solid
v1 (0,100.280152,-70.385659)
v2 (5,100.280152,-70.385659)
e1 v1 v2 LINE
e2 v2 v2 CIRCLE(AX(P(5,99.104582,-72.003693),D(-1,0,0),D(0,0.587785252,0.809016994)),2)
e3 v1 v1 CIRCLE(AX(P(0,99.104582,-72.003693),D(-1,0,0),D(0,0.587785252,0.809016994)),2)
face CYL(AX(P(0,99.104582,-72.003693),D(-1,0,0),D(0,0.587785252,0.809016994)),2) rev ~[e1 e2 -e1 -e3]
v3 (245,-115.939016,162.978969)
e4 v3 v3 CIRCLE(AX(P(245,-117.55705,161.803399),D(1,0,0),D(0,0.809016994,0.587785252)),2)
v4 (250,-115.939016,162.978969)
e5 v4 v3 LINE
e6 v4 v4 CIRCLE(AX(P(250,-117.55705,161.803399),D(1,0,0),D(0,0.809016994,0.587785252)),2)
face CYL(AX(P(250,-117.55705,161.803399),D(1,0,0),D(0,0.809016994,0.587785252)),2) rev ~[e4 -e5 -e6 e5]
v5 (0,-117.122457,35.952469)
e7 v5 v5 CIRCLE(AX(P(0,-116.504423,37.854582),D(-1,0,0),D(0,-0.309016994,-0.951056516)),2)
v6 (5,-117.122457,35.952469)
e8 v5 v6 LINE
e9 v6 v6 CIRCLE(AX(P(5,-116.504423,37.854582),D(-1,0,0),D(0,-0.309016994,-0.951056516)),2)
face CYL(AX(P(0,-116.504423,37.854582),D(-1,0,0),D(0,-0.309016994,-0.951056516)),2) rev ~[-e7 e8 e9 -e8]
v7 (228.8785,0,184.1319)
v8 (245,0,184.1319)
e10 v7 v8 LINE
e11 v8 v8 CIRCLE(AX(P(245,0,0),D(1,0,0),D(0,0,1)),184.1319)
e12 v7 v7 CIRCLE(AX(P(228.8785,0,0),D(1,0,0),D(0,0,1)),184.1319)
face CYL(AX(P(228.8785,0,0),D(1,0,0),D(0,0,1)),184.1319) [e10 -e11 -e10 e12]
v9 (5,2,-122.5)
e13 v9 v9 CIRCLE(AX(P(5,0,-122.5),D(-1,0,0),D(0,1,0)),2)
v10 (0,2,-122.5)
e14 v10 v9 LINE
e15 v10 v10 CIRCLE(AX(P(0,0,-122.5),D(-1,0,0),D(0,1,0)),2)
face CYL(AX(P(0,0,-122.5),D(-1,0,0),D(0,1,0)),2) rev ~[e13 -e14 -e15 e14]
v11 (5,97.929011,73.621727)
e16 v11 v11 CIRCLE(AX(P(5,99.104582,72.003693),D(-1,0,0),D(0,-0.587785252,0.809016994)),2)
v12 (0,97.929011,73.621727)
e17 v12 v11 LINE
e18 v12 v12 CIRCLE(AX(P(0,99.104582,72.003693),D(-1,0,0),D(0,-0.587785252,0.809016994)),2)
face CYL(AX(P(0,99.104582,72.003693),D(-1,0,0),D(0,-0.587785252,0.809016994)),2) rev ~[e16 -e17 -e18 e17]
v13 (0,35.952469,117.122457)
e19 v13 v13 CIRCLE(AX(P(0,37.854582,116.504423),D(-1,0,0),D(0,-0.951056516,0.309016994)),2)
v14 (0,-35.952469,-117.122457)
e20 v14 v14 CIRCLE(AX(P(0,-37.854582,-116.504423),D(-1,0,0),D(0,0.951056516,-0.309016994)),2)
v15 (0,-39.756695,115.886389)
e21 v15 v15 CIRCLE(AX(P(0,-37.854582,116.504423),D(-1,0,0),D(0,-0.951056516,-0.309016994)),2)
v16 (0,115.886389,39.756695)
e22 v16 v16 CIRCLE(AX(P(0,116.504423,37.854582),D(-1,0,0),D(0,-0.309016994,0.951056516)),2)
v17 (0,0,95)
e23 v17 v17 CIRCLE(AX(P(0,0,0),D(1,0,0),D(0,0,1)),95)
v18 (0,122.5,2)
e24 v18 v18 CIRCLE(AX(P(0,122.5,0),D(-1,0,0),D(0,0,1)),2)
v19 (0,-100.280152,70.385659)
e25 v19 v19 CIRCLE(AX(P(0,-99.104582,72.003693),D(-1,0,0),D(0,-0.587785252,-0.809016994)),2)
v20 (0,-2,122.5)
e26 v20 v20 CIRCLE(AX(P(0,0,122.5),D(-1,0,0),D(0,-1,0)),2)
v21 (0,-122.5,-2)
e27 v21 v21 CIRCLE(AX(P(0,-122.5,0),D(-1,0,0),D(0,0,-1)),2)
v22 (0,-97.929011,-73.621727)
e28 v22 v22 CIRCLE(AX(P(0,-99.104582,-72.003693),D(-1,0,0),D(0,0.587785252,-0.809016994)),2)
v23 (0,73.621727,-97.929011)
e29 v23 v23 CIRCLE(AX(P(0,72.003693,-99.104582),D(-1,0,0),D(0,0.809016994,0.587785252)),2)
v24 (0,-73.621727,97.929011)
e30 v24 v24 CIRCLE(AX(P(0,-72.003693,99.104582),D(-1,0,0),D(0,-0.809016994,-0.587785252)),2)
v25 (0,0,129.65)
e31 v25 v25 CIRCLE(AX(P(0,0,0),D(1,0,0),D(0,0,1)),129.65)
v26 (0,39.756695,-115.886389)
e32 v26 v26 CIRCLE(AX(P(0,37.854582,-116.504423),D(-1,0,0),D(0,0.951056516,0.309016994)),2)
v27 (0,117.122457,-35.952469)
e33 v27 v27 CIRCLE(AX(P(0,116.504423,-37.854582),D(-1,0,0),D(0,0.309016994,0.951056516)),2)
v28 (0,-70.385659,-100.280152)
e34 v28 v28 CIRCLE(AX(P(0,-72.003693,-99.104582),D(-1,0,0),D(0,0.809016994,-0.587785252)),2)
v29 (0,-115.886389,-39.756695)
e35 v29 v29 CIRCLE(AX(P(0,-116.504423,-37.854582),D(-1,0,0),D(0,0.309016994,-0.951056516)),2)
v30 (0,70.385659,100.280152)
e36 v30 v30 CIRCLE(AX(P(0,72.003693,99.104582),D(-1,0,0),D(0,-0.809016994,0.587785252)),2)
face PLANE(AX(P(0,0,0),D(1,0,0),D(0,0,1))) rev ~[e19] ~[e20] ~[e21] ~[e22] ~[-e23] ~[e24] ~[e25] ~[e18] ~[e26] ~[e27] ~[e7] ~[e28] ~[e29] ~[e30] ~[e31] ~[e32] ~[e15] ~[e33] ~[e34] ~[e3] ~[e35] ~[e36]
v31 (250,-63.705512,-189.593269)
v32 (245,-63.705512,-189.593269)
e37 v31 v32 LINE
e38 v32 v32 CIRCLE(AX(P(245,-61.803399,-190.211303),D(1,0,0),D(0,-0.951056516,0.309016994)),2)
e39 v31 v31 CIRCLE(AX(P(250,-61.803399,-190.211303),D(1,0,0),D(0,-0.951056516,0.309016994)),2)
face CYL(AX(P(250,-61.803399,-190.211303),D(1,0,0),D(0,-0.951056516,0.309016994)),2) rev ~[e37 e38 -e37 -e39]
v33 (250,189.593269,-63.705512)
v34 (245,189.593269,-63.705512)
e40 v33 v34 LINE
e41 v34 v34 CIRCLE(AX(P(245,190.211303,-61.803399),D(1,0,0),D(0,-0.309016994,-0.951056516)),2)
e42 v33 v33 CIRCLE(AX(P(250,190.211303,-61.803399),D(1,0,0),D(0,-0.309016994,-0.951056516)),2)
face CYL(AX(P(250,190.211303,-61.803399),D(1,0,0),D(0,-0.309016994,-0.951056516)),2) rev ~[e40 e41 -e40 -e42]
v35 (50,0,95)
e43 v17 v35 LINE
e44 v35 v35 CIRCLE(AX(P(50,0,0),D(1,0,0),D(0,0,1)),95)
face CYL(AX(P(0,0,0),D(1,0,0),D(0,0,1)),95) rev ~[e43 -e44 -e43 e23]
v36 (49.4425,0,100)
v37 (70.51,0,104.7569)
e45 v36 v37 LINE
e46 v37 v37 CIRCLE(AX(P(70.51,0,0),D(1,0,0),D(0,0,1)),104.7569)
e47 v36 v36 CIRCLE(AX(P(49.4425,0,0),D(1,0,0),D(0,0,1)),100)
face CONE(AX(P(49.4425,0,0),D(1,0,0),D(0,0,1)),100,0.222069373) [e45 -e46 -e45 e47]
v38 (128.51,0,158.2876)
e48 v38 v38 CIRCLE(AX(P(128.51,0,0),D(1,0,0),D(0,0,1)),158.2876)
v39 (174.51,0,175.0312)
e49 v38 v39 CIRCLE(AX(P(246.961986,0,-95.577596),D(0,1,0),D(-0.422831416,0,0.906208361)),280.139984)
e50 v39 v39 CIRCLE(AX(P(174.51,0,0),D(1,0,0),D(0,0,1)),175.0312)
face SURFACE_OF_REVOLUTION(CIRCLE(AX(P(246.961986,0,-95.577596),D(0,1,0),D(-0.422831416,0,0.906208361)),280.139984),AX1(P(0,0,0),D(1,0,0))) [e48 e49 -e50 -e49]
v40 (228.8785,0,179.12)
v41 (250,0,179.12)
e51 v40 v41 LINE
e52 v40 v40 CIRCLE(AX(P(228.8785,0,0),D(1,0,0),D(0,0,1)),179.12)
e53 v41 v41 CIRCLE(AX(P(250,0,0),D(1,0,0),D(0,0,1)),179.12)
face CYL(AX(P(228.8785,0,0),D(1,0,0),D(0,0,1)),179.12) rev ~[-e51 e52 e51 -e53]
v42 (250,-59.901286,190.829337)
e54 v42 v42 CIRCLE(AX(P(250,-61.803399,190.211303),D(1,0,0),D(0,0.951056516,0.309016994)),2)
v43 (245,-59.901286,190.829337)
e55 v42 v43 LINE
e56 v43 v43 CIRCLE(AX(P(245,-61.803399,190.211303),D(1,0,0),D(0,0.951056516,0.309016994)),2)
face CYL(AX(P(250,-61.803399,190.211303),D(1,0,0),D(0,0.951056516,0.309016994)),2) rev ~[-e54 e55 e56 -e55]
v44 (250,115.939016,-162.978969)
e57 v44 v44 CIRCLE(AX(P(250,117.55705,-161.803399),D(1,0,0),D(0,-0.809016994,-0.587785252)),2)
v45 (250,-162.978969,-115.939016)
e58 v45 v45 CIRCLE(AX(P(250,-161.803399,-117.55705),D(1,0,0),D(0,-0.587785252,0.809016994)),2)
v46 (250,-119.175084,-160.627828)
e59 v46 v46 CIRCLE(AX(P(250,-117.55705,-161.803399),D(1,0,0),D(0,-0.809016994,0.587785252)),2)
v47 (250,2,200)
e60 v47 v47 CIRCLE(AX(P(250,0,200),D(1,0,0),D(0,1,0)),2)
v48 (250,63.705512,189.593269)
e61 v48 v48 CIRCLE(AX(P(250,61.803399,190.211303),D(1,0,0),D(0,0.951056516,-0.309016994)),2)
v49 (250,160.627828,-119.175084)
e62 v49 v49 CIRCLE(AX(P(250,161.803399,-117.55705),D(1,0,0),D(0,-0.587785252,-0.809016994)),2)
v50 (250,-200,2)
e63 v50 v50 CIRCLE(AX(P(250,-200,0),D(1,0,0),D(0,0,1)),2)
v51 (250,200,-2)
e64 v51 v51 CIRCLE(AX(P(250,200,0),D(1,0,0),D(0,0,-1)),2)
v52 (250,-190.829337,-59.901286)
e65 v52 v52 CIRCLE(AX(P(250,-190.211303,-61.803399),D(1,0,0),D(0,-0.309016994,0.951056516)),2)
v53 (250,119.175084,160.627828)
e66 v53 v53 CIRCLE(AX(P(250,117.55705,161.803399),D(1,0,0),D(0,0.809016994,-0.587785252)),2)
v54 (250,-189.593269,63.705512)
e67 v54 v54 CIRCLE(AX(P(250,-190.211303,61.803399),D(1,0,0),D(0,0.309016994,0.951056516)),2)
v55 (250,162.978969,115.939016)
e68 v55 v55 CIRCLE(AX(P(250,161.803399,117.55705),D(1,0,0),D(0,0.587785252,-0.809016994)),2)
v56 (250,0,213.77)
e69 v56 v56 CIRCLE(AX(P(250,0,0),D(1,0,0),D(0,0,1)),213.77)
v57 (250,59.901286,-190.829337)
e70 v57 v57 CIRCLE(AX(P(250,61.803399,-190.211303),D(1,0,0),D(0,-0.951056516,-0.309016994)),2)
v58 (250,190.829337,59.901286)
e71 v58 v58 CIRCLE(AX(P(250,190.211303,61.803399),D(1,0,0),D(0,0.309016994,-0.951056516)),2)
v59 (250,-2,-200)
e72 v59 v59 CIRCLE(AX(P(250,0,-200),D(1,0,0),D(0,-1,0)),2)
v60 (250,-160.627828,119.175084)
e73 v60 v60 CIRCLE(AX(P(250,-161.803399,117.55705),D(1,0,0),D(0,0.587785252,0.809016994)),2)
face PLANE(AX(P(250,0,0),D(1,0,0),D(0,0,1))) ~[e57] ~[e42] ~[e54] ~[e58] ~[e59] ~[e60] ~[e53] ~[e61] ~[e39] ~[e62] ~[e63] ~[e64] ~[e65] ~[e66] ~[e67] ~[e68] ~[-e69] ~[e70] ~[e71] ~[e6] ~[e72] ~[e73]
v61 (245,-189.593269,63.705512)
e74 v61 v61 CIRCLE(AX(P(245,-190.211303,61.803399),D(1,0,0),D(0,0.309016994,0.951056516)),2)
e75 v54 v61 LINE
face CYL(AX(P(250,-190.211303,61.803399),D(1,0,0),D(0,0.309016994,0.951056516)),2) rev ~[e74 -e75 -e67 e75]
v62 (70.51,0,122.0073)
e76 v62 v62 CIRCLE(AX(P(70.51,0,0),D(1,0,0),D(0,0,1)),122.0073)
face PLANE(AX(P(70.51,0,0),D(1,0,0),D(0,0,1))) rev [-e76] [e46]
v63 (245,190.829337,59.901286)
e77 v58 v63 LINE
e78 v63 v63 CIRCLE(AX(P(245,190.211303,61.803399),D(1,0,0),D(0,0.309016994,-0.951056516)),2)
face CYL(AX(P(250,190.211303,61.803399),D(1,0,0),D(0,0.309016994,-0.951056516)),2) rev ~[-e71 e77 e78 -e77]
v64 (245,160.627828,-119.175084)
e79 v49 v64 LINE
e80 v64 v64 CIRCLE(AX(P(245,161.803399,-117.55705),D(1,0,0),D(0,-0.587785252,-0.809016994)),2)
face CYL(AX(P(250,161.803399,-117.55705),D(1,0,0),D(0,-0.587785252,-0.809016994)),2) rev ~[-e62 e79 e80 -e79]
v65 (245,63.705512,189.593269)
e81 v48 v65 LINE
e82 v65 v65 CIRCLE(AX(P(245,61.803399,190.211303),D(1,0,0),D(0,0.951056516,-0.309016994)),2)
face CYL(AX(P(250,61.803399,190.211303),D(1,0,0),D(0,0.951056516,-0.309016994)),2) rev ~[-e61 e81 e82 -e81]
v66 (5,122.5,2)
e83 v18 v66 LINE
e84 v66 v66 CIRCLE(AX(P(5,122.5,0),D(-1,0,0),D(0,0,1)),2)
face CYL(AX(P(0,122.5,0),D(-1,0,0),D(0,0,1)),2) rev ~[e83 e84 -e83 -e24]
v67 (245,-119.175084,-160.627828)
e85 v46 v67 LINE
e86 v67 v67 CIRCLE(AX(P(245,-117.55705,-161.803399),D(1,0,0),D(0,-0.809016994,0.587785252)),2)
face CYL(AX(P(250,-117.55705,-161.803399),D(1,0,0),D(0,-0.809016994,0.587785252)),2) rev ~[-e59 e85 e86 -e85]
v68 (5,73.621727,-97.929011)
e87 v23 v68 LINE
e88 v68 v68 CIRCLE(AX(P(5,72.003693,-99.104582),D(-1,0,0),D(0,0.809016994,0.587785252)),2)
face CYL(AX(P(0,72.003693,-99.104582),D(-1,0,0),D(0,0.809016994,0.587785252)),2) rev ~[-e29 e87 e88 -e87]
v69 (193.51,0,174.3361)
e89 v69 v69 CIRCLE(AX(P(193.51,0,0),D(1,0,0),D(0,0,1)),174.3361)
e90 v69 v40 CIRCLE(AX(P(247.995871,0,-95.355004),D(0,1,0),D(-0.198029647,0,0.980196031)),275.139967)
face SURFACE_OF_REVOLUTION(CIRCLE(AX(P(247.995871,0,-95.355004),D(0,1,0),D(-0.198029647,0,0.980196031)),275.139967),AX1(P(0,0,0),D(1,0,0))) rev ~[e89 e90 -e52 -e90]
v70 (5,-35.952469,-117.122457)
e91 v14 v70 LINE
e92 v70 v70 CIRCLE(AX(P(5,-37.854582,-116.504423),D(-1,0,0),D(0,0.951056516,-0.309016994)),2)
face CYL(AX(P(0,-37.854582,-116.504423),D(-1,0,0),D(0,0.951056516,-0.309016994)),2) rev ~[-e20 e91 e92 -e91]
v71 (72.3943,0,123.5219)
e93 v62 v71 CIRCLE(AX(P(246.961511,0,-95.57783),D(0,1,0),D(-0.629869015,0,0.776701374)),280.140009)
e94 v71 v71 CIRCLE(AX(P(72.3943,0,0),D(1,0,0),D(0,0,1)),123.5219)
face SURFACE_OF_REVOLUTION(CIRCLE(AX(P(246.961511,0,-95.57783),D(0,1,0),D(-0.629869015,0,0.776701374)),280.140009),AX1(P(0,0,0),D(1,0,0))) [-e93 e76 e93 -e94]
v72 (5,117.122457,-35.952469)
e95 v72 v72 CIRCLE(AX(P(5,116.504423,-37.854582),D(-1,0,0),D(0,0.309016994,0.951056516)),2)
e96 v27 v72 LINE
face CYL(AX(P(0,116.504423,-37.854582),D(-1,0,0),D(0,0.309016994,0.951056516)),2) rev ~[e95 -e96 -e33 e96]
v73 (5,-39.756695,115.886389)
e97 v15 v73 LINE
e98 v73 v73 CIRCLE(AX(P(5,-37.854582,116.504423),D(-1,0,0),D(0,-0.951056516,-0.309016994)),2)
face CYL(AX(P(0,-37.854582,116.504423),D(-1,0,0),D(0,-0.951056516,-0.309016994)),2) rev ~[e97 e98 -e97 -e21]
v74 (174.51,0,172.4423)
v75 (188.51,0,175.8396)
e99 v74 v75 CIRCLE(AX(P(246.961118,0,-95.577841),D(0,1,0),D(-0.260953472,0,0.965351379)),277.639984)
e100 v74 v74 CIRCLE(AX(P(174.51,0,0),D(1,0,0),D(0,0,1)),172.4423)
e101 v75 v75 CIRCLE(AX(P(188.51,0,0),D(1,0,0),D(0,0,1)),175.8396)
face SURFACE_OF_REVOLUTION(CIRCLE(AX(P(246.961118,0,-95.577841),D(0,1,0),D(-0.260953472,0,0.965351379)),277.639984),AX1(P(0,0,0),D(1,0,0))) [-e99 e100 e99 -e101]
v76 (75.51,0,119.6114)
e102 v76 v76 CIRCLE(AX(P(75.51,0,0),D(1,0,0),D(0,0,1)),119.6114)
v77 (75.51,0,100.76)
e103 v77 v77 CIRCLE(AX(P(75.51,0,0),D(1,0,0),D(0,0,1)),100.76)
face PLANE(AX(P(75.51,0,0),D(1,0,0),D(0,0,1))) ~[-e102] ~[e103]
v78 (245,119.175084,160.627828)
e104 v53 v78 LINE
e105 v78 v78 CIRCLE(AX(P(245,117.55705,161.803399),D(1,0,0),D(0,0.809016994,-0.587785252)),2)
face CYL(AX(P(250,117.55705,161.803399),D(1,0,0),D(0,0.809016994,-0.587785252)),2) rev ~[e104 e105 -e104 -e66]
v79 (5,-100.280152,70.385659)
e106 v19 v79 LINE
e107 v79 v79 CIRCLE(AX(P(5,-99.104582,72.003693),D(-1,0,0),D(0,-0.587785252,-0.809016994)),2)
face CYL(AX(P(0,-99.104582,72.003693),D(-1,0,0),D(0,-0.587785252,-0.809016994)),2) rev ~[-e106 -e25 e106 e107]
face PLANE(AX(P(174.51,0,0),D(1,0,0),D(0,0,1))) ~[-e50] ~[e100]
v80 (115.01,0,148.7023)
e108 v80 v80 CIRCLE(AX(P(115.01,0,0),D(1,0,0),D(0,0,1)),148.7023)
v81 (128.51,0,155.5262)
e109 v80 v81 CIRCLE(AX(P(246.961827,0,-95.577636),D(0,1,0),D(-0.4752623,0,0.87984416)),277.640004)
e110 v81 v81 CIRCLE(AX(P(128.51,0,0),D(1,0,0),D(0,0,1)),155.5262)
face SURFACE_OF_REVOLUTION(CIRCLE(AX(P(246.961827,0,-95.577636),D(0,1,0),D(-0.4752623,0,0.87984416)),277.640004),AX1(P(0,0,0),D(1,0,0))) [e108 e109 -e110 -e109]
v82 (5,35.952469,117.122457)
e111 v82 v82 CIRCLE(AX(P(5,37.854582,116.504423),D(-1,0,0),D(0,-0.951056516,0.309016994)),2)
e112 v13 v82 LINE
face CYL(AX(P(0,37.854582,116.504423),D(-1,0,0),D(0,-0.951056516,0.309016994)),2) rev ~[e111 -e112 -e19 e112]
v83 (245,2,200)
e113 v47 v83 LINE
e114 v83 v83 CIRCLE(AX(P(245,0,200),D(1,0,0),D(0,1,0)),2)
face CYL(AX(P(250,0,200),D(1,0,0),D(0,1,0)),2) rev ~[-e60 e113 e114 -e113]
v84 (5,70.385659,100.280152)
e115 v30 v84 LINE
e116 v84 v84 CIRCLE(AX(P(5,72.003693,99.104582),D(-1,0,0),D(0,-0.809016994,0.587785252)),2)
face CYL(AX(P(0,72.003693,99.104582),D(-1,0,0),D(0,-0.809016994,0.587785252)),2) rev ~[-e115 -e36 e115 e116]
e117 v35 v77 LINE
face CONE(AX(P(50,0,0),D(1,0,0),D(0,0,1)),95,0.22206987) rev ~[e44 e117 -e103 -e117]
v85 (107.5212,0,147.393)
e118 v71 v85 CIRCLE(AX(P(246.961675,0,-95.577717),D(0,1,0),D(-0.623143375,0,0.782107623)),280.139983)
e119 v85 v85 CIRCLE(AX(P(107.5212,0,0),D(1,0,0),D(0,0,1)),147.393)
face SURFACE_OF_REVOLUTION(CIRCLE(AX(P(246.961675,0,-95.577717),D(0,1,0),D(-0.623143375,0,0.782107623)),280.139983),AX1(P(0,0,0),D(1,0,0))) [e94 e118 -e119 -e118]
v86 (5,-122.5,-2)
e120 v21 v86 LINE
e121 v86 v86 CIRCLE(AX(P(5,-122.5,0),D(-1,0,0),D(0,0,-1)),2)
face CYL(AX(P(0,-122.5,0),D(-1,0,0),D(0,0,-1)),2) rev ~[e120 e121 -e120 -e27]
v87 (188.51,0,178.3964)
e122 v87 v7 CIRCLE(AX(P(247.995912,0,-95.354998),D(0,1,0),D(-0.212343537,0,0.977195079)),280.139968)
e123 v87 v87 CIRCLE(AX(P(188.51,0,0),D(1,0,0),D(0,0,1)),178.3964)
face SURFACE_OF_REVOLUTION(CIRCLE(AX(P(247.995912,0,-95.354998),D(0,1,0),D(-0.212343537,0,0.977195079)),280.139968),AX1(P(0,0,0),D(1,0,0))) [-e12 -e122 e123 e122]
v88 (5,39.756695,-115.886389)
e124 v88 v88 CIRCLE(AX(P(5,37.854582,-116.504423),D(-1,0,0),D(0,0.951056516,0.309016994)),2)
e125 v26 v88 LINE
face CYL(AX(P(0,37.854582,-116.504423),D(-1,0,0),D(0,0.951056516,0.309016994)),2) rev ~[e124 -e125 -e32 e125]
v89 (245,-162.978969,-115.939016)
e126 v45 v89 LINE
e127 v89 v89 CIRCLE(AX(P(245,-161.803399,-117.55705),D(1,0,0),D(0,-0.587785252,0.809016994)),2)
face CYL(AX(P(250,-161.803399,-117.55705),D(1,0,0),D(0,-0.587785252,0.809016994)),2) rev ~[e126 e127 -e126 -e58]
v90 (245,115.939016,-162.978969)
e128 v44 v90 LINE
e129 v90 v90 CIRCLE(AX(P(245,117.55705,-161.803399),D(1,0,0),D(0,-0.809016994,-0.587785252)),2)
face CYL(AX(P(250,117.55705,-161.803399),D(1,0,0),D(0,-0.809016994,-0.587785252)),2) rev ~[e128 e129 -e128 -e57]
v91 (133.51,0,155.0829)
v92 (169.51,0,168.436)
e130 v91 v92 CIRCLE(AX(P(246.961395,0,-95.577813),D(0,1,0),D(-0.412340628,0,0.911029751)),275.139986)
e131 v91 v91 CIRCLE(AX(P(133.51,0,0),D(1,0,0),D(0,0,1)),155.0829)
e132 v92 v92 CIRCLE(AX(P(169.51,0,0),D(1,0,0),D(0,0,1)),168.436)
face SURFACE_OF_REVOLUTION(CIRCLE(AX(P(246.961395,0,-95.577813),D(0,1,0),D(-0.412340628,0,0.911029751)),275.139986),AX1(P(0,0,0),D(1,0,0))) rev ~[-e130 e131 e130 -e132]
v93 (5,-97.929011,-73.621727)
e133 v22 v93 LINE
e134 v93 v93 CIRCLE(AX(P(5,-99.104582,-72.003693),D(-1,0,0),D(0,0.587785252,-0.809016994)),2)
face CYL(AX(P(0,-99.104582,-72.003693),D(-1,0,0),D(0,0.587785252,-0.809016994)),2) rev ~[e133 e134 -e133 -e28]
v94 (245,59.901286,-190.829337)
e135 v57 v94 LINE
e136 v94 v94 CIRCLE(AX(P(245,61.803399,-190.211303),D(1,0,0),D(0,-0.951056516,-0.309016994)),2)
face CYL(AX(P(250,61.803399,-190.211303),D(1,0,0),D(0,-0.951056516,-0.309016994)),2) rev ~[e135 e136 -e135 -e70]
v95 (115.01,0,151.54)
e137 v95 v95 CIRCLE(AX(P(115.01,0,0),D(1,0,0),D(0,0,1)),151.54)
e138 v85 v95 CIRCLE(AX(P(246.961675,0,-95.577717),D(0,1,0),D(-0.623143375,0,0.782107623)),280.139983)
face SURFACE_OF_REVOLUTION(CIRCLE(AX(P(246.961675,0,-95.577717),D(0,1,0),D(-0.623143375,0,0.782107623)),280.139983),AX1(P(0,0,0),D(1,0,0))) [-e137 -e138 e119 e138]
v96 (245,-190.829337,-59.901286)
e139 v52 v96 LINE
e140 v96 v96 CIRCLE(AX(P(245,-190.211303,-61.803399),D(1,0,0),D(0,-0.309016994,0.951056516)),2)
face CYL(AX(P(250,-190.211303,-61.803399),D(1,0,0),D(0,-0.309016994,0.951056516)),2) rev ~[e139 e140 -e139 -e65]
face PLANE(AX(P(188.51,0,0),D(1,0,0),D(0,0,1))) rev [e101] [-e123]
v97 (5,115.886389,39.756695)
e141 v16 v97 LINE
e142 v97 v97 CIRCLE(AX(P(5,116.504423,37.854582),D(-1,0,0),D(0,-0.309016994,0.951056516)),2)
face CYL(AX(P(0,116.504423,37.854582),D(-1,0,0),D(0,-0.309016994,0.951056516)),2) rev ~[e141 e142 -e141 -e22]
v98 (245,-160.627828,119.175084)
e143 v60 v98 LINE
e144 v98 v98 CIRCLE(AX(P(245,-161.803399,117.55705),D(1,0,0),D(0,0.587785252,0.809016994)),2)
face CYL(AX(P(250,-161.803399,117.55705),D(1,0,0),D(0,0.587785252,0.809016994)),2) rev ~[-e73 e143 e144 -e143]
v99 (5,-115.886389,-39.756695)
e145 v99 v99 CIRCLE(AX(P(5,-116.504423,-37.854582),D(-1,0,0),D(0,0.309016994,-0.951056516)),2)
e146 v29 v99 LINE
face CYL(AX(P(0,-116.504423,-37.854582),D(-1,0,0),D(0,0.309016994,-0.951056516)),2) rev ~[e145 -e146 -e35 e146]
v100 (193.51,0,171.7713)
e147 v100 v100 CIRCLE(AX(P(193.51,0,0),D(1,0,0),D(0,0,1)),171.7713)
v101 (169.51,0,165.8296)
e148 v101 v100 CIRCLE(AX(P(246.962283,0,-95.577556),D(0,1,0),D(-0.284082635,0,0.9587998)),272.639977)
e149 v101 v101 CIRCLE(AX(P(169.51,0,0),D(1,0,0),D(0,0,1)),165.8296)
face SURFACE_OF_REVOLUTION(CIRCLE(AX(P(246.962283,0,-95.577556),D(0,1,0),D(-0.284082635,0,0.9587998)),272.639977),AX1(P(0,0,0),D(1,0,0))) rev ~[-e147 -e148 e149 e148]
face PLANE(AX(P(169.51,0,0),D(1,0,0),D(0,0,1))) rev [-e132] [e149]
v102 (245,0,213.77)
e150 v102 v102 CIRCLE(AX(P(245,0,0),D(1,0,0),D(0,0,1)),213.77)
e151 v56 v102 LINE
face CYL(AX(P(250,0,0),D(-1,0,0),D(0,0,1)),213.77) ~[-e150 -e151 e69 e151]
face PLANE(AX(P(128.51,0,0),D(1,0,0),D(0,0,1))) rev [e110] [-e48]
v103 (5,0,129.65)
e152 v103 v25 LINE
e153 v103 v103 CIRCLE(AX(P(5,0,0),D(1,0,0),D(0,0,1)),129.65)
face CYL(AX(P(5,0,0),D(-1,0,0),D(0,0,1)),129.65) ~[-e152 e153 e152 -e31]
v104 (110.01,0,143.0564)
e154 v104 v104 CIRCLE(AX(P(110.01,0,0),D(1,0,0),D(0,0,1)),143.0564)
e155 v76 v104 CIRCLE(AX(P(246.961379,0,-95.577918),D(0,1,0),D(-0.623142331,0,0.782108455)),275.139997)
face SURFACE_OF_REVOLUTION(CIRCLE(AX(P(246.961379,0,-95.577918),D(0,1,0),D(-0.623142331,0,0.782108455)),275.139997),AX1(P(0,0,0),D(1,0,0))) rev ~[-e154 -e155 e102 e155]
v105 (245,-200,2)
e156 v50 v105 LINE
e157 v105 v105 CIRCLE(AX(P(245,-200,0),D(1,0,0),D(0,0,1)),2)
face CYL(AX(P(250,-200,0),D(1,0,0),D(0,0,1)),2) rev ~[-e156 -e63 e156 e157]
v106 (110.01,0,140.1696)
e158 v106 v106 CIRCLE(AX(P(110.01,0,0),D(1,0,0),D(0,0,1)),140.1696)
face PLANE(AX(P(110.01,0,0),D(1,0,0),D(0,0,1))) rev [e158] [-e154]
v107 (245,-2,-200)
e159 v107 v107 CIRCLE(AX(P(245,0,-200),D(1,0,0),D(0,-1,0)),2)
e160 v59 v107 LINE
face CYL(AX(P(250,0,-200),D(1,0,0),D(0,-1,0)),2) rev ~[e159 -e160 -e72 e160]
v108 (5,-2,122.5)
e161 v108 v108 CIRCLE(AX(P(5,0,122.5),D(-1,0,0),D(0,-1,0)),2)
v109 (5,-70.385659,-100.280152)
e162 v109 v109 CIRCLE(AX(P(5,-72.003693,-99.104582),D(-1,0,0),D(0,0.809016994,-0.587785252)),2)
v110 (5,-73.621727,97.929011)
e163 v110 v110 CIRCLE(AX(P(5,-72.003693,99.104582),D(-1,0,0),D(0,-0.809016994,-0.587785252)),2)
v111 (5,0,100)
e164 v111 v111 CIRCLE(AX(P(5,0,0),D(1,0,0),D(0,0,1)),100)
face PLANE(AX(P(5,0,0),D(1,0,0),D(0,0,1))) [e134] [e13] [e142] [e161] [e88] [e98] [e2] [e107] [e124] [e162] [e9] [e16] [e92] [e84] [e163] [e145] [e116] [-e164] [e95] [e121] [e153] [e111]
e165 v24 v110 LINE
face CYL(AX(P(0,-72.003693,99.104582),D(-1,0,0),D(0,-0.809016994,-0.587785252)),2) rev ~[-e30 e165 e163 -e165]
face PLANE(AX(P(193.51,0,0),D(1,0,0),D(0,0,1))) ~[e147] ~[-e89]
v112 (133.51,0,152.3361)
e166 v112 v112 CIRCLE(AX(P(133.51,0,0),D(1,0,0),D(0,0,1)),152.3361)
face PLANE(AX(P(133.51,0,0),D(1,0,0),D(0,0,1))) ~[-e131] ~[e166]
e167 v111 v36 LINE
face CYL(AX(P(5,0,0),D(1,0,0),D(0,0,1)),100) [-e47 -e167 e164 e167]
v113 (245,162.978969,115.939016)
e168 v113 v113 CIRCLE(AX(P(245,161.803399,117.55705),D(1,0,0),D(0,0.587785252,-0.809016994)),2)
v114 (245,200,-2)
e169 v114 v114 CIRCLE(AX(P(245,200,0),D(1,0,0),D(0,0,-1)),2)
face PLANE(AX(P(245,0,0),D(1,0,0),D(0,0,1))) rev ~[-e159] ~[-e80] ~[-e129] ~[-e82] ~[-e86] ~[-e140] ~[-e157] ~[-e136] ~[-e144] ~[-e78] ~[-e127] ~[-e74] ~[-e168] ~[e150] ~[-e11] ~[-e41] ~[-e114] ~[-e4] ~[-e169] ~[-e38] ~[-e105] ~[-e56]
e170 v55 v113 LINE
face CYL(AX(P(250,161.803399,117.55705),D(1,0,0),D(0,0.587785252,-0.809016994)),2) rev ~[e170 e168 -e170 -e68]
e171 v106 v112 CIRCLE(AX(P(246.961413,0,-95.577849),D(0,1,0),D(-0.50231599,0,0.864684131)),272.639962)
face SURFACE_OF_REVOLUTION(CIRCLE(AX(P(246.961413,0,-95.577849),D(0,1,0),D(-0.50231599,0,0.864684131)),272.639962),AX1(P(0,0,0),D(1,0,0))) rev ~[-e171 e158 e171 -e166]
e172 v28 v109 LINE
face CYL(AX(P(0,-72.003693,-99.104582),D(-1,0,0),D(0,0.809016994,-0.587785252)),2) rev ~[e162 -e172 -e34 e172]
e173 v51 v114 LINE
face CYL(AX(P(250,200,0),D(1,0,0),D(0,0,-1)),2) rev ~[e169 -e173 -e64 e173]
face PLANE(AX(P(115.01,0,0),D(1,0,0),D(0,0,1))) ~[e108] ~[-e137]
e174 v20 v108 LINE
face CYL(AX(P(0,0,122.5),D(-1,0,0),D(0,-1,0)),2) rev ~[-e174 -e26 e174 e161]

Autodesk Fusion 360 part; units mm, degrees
sketch "Sketch1" plane through (0, 0, 0) normal (0, 1, 0) x (1, 0, 0)
  line L0 (0, 0) -> (250.5, 0) construction
  line L1 (250.5, 0) -> (250.5, -213.77) construction
  line L2 (250.5, -213.77) -> (0, -213.77) construction
  line L3 (0, -213.77) -> (0, 0) construction
  dimension "d1" = 250.5
  dimension "d2" = 213.77
sketch "Sketch2" plane through (0, 0, 0) normal (0, 1, 0) x (1, 0, 0)
  line L0 (0, 0) -> (250, 0) construction
  line L1 (250, 0) -> (250, -129.65) construction
  line L2 (250, -129.65) -> (0, -129.65) construction
  line L3 (0, -129.65) -> (0, 0) construction
  line L4 (193.51, 174.3203) -> (193.51, 171.7713)
  line L5 (193.51, -171.7713) -> (193.51, -174.3361)
  line L6 (169.51, 168.436) -> (169.51, 165.8296)
  line L7 (169.51, -165.8296) -> (169.51, -168.436)
  line L8 (133.51, 155.0829) -> (133.51, 152.3361)
  line L9 (133.51, -152.3361) -> (133.51, -155.0829)
  line L10 (110.01, 143.0564) -> (110.01, 140.1696)
  line L11 (110.01, -140.1696) -> (110.01, -143.0564)
  line L12 (228.8785, 178.9674) -> (228.8785, -179.12)
  arc A0 (193.51, 171.7713) -> (169.51, 165.8296) centre (246.9617, -95.5777) ccw
  arc A1 (169.51, -165.8296) -> (193.51, -171.7713) centre (246.9617, 95.5777) ccw
  arc A2 (133.51, 152.3361) -> (110.01, 140.1696) centre (246.9617, -95.5777) ccw
  arc A3 (110.01, -140.1696) -> (133.51, -152.3361) centre (246.9617, 95.5777) ccw
  arc A4 (228.8785, 178.9674) -> (193.51, 174.3203) centre (246.9617, -95.5777) ccw
  arc A5 (193.51, -174.3361) -> (228.8785, -179.12) centre (247.9959, 95.355) ccw
  arc A6 (169.51, 168.436) -> (133.51, 155.0829) centre (246.9617, -95.5777) ccw
  arc A7 (133.51, -155.0829) -> (169.51, -168.436) centre (246.9617, 95.5777) ccw
  arc A8 (110.01, 143.0564) -> (75.51, 119.6114) centre (246.9617, -95.5777) ccw
  arc A9 (75.51, -119.6114) -> (110.01, -143.0564) centre (246.9617, 95.5777) ccw
  line L13 (0, -129.65) -> (0, -95)
  line L14 (0, -95) -> (50, -95)
  line L15 (334.2254, -100.76) -> (-102.5424, -100.76) construction
  line L16 (50, -95) -> (75.51, -100.76)
  line L17 (75.51, -100.76) -> (75.51, -119.6114)
  arc A10 (72.3943, -123.5219) -> (115.01, -151.54) centre (246.9617, 95.5777) ccw
  line L18 (115.01, -148.7023) -> (115.01, -151.54)
  arc A11 (115.01, -148.7023) -> (128.51, -155.5262) centre (246.9617, 95.5777) ccw
  line L19 (128.51, -155.5262) -> (128.51, -158.2876)
  arc A12 (128.51, -158.2876) -> (174.51, -175.0312) centre (246.9617, 95.5777) ccw
  line L20 (174.51, -172.4423) -> (174.51, -175.0312)
  arc A13 (174.51, -172.4423) -> (188.51, -175.8396) centre (246.9617, 95.5777) ccw
  line L21 (188.51, -175.8396) -> (188.51, -178.3964)
  arc A14 (188.51, -178.3964) -> (228.8785, -184.1319) centre (247.9959, 95.355) ccw
  line L22 (75.51, 119.6114) -> (75.51, 0)
  line L23 (75.51, -100.76) -> (75.51, -119.6114)
  line L24 (5, -129.65) -> (5, -100)
  line L25 (5, -100) -> (49.4425, -100)
  line L26 (49.4425, -100) -> (70.51, -104.7569)
  line L27 (70.51, -104.7569) -> (70.51, -122.0073)
  arc A15 (70.51, -122.0073) -> (107.5212, -147.393) centre (246.9617, 95.5777) ccw
  line L28 (5, -129.65) -> (0, -129.65)
  line L29 (250, 0) -> (250, -213.77) construction
  line L30 (228.8785, -184.1319) -> (245, -184.1319)
  line L31 (228.8785, -179.12) -> (250, -179.12)
  line L32 (250, -179.12) -> (250, -213.77)
  line L33 (250, -213.77) -> (245, -213.77)
  line L34 (245, -213.77) -> (245, -184.1319)
  dimension "d3" = 250
  dimension "d5" = 95
  dimension "d6" = 34.65
  dimension "d7" = 50
  dimension "d8" = 100.76
  dimension "d10" = 5
  dimension "d11" = 213.77
  dimension "d12" = 34.65
  dimension "d13" = 5
revolve "Revolve1" add sketch "Sketch2" angle 360 about axis through (0, 0, 0) along (1, 0, 0)
sketch "Sketch3" plane through (0, 0, 0) normal (-1, 0, 0) x (0, -1, 0)
  circle A0 centre (0, 0) radius 129.65
  circle A1 centre (0, 0) radius 95
  line L0 (0, 0) -> (0, 238.1299) construction
  circle A2 centre (0, 122.5) radius 2
  dimension "d15" = 4
  dimension "d16" = 122.5
extrude "Extrude1" cut sketch "Sketch3" against normal blind 35 contours A2
sketch "Sketch4" plane through (250, 0, 0) normal (1, 0, 0) x (0, 1, 0)
  circle A0 centre (0, 0) radius 179.12
  circle A1 centre (0, 0) radius 213.77
  line L0 (0, 0) -> (0, 246.5899) construction
  circle A2 centre (0, 200) radius 2
  dimension "d19" = 4
  dimension "d20" = 200
extrude "Extrude2" cut sketch "Sketch4" against normal blind 27 contours A2
pattern_circular "C-Pattern1" count 20 over 360 about axis through (1.75, 0, 0) along (1, 0, 0) of "Extrude2", "Extrude1"
equation "d5 = ( 190 / 2 ) * 1 mm"
